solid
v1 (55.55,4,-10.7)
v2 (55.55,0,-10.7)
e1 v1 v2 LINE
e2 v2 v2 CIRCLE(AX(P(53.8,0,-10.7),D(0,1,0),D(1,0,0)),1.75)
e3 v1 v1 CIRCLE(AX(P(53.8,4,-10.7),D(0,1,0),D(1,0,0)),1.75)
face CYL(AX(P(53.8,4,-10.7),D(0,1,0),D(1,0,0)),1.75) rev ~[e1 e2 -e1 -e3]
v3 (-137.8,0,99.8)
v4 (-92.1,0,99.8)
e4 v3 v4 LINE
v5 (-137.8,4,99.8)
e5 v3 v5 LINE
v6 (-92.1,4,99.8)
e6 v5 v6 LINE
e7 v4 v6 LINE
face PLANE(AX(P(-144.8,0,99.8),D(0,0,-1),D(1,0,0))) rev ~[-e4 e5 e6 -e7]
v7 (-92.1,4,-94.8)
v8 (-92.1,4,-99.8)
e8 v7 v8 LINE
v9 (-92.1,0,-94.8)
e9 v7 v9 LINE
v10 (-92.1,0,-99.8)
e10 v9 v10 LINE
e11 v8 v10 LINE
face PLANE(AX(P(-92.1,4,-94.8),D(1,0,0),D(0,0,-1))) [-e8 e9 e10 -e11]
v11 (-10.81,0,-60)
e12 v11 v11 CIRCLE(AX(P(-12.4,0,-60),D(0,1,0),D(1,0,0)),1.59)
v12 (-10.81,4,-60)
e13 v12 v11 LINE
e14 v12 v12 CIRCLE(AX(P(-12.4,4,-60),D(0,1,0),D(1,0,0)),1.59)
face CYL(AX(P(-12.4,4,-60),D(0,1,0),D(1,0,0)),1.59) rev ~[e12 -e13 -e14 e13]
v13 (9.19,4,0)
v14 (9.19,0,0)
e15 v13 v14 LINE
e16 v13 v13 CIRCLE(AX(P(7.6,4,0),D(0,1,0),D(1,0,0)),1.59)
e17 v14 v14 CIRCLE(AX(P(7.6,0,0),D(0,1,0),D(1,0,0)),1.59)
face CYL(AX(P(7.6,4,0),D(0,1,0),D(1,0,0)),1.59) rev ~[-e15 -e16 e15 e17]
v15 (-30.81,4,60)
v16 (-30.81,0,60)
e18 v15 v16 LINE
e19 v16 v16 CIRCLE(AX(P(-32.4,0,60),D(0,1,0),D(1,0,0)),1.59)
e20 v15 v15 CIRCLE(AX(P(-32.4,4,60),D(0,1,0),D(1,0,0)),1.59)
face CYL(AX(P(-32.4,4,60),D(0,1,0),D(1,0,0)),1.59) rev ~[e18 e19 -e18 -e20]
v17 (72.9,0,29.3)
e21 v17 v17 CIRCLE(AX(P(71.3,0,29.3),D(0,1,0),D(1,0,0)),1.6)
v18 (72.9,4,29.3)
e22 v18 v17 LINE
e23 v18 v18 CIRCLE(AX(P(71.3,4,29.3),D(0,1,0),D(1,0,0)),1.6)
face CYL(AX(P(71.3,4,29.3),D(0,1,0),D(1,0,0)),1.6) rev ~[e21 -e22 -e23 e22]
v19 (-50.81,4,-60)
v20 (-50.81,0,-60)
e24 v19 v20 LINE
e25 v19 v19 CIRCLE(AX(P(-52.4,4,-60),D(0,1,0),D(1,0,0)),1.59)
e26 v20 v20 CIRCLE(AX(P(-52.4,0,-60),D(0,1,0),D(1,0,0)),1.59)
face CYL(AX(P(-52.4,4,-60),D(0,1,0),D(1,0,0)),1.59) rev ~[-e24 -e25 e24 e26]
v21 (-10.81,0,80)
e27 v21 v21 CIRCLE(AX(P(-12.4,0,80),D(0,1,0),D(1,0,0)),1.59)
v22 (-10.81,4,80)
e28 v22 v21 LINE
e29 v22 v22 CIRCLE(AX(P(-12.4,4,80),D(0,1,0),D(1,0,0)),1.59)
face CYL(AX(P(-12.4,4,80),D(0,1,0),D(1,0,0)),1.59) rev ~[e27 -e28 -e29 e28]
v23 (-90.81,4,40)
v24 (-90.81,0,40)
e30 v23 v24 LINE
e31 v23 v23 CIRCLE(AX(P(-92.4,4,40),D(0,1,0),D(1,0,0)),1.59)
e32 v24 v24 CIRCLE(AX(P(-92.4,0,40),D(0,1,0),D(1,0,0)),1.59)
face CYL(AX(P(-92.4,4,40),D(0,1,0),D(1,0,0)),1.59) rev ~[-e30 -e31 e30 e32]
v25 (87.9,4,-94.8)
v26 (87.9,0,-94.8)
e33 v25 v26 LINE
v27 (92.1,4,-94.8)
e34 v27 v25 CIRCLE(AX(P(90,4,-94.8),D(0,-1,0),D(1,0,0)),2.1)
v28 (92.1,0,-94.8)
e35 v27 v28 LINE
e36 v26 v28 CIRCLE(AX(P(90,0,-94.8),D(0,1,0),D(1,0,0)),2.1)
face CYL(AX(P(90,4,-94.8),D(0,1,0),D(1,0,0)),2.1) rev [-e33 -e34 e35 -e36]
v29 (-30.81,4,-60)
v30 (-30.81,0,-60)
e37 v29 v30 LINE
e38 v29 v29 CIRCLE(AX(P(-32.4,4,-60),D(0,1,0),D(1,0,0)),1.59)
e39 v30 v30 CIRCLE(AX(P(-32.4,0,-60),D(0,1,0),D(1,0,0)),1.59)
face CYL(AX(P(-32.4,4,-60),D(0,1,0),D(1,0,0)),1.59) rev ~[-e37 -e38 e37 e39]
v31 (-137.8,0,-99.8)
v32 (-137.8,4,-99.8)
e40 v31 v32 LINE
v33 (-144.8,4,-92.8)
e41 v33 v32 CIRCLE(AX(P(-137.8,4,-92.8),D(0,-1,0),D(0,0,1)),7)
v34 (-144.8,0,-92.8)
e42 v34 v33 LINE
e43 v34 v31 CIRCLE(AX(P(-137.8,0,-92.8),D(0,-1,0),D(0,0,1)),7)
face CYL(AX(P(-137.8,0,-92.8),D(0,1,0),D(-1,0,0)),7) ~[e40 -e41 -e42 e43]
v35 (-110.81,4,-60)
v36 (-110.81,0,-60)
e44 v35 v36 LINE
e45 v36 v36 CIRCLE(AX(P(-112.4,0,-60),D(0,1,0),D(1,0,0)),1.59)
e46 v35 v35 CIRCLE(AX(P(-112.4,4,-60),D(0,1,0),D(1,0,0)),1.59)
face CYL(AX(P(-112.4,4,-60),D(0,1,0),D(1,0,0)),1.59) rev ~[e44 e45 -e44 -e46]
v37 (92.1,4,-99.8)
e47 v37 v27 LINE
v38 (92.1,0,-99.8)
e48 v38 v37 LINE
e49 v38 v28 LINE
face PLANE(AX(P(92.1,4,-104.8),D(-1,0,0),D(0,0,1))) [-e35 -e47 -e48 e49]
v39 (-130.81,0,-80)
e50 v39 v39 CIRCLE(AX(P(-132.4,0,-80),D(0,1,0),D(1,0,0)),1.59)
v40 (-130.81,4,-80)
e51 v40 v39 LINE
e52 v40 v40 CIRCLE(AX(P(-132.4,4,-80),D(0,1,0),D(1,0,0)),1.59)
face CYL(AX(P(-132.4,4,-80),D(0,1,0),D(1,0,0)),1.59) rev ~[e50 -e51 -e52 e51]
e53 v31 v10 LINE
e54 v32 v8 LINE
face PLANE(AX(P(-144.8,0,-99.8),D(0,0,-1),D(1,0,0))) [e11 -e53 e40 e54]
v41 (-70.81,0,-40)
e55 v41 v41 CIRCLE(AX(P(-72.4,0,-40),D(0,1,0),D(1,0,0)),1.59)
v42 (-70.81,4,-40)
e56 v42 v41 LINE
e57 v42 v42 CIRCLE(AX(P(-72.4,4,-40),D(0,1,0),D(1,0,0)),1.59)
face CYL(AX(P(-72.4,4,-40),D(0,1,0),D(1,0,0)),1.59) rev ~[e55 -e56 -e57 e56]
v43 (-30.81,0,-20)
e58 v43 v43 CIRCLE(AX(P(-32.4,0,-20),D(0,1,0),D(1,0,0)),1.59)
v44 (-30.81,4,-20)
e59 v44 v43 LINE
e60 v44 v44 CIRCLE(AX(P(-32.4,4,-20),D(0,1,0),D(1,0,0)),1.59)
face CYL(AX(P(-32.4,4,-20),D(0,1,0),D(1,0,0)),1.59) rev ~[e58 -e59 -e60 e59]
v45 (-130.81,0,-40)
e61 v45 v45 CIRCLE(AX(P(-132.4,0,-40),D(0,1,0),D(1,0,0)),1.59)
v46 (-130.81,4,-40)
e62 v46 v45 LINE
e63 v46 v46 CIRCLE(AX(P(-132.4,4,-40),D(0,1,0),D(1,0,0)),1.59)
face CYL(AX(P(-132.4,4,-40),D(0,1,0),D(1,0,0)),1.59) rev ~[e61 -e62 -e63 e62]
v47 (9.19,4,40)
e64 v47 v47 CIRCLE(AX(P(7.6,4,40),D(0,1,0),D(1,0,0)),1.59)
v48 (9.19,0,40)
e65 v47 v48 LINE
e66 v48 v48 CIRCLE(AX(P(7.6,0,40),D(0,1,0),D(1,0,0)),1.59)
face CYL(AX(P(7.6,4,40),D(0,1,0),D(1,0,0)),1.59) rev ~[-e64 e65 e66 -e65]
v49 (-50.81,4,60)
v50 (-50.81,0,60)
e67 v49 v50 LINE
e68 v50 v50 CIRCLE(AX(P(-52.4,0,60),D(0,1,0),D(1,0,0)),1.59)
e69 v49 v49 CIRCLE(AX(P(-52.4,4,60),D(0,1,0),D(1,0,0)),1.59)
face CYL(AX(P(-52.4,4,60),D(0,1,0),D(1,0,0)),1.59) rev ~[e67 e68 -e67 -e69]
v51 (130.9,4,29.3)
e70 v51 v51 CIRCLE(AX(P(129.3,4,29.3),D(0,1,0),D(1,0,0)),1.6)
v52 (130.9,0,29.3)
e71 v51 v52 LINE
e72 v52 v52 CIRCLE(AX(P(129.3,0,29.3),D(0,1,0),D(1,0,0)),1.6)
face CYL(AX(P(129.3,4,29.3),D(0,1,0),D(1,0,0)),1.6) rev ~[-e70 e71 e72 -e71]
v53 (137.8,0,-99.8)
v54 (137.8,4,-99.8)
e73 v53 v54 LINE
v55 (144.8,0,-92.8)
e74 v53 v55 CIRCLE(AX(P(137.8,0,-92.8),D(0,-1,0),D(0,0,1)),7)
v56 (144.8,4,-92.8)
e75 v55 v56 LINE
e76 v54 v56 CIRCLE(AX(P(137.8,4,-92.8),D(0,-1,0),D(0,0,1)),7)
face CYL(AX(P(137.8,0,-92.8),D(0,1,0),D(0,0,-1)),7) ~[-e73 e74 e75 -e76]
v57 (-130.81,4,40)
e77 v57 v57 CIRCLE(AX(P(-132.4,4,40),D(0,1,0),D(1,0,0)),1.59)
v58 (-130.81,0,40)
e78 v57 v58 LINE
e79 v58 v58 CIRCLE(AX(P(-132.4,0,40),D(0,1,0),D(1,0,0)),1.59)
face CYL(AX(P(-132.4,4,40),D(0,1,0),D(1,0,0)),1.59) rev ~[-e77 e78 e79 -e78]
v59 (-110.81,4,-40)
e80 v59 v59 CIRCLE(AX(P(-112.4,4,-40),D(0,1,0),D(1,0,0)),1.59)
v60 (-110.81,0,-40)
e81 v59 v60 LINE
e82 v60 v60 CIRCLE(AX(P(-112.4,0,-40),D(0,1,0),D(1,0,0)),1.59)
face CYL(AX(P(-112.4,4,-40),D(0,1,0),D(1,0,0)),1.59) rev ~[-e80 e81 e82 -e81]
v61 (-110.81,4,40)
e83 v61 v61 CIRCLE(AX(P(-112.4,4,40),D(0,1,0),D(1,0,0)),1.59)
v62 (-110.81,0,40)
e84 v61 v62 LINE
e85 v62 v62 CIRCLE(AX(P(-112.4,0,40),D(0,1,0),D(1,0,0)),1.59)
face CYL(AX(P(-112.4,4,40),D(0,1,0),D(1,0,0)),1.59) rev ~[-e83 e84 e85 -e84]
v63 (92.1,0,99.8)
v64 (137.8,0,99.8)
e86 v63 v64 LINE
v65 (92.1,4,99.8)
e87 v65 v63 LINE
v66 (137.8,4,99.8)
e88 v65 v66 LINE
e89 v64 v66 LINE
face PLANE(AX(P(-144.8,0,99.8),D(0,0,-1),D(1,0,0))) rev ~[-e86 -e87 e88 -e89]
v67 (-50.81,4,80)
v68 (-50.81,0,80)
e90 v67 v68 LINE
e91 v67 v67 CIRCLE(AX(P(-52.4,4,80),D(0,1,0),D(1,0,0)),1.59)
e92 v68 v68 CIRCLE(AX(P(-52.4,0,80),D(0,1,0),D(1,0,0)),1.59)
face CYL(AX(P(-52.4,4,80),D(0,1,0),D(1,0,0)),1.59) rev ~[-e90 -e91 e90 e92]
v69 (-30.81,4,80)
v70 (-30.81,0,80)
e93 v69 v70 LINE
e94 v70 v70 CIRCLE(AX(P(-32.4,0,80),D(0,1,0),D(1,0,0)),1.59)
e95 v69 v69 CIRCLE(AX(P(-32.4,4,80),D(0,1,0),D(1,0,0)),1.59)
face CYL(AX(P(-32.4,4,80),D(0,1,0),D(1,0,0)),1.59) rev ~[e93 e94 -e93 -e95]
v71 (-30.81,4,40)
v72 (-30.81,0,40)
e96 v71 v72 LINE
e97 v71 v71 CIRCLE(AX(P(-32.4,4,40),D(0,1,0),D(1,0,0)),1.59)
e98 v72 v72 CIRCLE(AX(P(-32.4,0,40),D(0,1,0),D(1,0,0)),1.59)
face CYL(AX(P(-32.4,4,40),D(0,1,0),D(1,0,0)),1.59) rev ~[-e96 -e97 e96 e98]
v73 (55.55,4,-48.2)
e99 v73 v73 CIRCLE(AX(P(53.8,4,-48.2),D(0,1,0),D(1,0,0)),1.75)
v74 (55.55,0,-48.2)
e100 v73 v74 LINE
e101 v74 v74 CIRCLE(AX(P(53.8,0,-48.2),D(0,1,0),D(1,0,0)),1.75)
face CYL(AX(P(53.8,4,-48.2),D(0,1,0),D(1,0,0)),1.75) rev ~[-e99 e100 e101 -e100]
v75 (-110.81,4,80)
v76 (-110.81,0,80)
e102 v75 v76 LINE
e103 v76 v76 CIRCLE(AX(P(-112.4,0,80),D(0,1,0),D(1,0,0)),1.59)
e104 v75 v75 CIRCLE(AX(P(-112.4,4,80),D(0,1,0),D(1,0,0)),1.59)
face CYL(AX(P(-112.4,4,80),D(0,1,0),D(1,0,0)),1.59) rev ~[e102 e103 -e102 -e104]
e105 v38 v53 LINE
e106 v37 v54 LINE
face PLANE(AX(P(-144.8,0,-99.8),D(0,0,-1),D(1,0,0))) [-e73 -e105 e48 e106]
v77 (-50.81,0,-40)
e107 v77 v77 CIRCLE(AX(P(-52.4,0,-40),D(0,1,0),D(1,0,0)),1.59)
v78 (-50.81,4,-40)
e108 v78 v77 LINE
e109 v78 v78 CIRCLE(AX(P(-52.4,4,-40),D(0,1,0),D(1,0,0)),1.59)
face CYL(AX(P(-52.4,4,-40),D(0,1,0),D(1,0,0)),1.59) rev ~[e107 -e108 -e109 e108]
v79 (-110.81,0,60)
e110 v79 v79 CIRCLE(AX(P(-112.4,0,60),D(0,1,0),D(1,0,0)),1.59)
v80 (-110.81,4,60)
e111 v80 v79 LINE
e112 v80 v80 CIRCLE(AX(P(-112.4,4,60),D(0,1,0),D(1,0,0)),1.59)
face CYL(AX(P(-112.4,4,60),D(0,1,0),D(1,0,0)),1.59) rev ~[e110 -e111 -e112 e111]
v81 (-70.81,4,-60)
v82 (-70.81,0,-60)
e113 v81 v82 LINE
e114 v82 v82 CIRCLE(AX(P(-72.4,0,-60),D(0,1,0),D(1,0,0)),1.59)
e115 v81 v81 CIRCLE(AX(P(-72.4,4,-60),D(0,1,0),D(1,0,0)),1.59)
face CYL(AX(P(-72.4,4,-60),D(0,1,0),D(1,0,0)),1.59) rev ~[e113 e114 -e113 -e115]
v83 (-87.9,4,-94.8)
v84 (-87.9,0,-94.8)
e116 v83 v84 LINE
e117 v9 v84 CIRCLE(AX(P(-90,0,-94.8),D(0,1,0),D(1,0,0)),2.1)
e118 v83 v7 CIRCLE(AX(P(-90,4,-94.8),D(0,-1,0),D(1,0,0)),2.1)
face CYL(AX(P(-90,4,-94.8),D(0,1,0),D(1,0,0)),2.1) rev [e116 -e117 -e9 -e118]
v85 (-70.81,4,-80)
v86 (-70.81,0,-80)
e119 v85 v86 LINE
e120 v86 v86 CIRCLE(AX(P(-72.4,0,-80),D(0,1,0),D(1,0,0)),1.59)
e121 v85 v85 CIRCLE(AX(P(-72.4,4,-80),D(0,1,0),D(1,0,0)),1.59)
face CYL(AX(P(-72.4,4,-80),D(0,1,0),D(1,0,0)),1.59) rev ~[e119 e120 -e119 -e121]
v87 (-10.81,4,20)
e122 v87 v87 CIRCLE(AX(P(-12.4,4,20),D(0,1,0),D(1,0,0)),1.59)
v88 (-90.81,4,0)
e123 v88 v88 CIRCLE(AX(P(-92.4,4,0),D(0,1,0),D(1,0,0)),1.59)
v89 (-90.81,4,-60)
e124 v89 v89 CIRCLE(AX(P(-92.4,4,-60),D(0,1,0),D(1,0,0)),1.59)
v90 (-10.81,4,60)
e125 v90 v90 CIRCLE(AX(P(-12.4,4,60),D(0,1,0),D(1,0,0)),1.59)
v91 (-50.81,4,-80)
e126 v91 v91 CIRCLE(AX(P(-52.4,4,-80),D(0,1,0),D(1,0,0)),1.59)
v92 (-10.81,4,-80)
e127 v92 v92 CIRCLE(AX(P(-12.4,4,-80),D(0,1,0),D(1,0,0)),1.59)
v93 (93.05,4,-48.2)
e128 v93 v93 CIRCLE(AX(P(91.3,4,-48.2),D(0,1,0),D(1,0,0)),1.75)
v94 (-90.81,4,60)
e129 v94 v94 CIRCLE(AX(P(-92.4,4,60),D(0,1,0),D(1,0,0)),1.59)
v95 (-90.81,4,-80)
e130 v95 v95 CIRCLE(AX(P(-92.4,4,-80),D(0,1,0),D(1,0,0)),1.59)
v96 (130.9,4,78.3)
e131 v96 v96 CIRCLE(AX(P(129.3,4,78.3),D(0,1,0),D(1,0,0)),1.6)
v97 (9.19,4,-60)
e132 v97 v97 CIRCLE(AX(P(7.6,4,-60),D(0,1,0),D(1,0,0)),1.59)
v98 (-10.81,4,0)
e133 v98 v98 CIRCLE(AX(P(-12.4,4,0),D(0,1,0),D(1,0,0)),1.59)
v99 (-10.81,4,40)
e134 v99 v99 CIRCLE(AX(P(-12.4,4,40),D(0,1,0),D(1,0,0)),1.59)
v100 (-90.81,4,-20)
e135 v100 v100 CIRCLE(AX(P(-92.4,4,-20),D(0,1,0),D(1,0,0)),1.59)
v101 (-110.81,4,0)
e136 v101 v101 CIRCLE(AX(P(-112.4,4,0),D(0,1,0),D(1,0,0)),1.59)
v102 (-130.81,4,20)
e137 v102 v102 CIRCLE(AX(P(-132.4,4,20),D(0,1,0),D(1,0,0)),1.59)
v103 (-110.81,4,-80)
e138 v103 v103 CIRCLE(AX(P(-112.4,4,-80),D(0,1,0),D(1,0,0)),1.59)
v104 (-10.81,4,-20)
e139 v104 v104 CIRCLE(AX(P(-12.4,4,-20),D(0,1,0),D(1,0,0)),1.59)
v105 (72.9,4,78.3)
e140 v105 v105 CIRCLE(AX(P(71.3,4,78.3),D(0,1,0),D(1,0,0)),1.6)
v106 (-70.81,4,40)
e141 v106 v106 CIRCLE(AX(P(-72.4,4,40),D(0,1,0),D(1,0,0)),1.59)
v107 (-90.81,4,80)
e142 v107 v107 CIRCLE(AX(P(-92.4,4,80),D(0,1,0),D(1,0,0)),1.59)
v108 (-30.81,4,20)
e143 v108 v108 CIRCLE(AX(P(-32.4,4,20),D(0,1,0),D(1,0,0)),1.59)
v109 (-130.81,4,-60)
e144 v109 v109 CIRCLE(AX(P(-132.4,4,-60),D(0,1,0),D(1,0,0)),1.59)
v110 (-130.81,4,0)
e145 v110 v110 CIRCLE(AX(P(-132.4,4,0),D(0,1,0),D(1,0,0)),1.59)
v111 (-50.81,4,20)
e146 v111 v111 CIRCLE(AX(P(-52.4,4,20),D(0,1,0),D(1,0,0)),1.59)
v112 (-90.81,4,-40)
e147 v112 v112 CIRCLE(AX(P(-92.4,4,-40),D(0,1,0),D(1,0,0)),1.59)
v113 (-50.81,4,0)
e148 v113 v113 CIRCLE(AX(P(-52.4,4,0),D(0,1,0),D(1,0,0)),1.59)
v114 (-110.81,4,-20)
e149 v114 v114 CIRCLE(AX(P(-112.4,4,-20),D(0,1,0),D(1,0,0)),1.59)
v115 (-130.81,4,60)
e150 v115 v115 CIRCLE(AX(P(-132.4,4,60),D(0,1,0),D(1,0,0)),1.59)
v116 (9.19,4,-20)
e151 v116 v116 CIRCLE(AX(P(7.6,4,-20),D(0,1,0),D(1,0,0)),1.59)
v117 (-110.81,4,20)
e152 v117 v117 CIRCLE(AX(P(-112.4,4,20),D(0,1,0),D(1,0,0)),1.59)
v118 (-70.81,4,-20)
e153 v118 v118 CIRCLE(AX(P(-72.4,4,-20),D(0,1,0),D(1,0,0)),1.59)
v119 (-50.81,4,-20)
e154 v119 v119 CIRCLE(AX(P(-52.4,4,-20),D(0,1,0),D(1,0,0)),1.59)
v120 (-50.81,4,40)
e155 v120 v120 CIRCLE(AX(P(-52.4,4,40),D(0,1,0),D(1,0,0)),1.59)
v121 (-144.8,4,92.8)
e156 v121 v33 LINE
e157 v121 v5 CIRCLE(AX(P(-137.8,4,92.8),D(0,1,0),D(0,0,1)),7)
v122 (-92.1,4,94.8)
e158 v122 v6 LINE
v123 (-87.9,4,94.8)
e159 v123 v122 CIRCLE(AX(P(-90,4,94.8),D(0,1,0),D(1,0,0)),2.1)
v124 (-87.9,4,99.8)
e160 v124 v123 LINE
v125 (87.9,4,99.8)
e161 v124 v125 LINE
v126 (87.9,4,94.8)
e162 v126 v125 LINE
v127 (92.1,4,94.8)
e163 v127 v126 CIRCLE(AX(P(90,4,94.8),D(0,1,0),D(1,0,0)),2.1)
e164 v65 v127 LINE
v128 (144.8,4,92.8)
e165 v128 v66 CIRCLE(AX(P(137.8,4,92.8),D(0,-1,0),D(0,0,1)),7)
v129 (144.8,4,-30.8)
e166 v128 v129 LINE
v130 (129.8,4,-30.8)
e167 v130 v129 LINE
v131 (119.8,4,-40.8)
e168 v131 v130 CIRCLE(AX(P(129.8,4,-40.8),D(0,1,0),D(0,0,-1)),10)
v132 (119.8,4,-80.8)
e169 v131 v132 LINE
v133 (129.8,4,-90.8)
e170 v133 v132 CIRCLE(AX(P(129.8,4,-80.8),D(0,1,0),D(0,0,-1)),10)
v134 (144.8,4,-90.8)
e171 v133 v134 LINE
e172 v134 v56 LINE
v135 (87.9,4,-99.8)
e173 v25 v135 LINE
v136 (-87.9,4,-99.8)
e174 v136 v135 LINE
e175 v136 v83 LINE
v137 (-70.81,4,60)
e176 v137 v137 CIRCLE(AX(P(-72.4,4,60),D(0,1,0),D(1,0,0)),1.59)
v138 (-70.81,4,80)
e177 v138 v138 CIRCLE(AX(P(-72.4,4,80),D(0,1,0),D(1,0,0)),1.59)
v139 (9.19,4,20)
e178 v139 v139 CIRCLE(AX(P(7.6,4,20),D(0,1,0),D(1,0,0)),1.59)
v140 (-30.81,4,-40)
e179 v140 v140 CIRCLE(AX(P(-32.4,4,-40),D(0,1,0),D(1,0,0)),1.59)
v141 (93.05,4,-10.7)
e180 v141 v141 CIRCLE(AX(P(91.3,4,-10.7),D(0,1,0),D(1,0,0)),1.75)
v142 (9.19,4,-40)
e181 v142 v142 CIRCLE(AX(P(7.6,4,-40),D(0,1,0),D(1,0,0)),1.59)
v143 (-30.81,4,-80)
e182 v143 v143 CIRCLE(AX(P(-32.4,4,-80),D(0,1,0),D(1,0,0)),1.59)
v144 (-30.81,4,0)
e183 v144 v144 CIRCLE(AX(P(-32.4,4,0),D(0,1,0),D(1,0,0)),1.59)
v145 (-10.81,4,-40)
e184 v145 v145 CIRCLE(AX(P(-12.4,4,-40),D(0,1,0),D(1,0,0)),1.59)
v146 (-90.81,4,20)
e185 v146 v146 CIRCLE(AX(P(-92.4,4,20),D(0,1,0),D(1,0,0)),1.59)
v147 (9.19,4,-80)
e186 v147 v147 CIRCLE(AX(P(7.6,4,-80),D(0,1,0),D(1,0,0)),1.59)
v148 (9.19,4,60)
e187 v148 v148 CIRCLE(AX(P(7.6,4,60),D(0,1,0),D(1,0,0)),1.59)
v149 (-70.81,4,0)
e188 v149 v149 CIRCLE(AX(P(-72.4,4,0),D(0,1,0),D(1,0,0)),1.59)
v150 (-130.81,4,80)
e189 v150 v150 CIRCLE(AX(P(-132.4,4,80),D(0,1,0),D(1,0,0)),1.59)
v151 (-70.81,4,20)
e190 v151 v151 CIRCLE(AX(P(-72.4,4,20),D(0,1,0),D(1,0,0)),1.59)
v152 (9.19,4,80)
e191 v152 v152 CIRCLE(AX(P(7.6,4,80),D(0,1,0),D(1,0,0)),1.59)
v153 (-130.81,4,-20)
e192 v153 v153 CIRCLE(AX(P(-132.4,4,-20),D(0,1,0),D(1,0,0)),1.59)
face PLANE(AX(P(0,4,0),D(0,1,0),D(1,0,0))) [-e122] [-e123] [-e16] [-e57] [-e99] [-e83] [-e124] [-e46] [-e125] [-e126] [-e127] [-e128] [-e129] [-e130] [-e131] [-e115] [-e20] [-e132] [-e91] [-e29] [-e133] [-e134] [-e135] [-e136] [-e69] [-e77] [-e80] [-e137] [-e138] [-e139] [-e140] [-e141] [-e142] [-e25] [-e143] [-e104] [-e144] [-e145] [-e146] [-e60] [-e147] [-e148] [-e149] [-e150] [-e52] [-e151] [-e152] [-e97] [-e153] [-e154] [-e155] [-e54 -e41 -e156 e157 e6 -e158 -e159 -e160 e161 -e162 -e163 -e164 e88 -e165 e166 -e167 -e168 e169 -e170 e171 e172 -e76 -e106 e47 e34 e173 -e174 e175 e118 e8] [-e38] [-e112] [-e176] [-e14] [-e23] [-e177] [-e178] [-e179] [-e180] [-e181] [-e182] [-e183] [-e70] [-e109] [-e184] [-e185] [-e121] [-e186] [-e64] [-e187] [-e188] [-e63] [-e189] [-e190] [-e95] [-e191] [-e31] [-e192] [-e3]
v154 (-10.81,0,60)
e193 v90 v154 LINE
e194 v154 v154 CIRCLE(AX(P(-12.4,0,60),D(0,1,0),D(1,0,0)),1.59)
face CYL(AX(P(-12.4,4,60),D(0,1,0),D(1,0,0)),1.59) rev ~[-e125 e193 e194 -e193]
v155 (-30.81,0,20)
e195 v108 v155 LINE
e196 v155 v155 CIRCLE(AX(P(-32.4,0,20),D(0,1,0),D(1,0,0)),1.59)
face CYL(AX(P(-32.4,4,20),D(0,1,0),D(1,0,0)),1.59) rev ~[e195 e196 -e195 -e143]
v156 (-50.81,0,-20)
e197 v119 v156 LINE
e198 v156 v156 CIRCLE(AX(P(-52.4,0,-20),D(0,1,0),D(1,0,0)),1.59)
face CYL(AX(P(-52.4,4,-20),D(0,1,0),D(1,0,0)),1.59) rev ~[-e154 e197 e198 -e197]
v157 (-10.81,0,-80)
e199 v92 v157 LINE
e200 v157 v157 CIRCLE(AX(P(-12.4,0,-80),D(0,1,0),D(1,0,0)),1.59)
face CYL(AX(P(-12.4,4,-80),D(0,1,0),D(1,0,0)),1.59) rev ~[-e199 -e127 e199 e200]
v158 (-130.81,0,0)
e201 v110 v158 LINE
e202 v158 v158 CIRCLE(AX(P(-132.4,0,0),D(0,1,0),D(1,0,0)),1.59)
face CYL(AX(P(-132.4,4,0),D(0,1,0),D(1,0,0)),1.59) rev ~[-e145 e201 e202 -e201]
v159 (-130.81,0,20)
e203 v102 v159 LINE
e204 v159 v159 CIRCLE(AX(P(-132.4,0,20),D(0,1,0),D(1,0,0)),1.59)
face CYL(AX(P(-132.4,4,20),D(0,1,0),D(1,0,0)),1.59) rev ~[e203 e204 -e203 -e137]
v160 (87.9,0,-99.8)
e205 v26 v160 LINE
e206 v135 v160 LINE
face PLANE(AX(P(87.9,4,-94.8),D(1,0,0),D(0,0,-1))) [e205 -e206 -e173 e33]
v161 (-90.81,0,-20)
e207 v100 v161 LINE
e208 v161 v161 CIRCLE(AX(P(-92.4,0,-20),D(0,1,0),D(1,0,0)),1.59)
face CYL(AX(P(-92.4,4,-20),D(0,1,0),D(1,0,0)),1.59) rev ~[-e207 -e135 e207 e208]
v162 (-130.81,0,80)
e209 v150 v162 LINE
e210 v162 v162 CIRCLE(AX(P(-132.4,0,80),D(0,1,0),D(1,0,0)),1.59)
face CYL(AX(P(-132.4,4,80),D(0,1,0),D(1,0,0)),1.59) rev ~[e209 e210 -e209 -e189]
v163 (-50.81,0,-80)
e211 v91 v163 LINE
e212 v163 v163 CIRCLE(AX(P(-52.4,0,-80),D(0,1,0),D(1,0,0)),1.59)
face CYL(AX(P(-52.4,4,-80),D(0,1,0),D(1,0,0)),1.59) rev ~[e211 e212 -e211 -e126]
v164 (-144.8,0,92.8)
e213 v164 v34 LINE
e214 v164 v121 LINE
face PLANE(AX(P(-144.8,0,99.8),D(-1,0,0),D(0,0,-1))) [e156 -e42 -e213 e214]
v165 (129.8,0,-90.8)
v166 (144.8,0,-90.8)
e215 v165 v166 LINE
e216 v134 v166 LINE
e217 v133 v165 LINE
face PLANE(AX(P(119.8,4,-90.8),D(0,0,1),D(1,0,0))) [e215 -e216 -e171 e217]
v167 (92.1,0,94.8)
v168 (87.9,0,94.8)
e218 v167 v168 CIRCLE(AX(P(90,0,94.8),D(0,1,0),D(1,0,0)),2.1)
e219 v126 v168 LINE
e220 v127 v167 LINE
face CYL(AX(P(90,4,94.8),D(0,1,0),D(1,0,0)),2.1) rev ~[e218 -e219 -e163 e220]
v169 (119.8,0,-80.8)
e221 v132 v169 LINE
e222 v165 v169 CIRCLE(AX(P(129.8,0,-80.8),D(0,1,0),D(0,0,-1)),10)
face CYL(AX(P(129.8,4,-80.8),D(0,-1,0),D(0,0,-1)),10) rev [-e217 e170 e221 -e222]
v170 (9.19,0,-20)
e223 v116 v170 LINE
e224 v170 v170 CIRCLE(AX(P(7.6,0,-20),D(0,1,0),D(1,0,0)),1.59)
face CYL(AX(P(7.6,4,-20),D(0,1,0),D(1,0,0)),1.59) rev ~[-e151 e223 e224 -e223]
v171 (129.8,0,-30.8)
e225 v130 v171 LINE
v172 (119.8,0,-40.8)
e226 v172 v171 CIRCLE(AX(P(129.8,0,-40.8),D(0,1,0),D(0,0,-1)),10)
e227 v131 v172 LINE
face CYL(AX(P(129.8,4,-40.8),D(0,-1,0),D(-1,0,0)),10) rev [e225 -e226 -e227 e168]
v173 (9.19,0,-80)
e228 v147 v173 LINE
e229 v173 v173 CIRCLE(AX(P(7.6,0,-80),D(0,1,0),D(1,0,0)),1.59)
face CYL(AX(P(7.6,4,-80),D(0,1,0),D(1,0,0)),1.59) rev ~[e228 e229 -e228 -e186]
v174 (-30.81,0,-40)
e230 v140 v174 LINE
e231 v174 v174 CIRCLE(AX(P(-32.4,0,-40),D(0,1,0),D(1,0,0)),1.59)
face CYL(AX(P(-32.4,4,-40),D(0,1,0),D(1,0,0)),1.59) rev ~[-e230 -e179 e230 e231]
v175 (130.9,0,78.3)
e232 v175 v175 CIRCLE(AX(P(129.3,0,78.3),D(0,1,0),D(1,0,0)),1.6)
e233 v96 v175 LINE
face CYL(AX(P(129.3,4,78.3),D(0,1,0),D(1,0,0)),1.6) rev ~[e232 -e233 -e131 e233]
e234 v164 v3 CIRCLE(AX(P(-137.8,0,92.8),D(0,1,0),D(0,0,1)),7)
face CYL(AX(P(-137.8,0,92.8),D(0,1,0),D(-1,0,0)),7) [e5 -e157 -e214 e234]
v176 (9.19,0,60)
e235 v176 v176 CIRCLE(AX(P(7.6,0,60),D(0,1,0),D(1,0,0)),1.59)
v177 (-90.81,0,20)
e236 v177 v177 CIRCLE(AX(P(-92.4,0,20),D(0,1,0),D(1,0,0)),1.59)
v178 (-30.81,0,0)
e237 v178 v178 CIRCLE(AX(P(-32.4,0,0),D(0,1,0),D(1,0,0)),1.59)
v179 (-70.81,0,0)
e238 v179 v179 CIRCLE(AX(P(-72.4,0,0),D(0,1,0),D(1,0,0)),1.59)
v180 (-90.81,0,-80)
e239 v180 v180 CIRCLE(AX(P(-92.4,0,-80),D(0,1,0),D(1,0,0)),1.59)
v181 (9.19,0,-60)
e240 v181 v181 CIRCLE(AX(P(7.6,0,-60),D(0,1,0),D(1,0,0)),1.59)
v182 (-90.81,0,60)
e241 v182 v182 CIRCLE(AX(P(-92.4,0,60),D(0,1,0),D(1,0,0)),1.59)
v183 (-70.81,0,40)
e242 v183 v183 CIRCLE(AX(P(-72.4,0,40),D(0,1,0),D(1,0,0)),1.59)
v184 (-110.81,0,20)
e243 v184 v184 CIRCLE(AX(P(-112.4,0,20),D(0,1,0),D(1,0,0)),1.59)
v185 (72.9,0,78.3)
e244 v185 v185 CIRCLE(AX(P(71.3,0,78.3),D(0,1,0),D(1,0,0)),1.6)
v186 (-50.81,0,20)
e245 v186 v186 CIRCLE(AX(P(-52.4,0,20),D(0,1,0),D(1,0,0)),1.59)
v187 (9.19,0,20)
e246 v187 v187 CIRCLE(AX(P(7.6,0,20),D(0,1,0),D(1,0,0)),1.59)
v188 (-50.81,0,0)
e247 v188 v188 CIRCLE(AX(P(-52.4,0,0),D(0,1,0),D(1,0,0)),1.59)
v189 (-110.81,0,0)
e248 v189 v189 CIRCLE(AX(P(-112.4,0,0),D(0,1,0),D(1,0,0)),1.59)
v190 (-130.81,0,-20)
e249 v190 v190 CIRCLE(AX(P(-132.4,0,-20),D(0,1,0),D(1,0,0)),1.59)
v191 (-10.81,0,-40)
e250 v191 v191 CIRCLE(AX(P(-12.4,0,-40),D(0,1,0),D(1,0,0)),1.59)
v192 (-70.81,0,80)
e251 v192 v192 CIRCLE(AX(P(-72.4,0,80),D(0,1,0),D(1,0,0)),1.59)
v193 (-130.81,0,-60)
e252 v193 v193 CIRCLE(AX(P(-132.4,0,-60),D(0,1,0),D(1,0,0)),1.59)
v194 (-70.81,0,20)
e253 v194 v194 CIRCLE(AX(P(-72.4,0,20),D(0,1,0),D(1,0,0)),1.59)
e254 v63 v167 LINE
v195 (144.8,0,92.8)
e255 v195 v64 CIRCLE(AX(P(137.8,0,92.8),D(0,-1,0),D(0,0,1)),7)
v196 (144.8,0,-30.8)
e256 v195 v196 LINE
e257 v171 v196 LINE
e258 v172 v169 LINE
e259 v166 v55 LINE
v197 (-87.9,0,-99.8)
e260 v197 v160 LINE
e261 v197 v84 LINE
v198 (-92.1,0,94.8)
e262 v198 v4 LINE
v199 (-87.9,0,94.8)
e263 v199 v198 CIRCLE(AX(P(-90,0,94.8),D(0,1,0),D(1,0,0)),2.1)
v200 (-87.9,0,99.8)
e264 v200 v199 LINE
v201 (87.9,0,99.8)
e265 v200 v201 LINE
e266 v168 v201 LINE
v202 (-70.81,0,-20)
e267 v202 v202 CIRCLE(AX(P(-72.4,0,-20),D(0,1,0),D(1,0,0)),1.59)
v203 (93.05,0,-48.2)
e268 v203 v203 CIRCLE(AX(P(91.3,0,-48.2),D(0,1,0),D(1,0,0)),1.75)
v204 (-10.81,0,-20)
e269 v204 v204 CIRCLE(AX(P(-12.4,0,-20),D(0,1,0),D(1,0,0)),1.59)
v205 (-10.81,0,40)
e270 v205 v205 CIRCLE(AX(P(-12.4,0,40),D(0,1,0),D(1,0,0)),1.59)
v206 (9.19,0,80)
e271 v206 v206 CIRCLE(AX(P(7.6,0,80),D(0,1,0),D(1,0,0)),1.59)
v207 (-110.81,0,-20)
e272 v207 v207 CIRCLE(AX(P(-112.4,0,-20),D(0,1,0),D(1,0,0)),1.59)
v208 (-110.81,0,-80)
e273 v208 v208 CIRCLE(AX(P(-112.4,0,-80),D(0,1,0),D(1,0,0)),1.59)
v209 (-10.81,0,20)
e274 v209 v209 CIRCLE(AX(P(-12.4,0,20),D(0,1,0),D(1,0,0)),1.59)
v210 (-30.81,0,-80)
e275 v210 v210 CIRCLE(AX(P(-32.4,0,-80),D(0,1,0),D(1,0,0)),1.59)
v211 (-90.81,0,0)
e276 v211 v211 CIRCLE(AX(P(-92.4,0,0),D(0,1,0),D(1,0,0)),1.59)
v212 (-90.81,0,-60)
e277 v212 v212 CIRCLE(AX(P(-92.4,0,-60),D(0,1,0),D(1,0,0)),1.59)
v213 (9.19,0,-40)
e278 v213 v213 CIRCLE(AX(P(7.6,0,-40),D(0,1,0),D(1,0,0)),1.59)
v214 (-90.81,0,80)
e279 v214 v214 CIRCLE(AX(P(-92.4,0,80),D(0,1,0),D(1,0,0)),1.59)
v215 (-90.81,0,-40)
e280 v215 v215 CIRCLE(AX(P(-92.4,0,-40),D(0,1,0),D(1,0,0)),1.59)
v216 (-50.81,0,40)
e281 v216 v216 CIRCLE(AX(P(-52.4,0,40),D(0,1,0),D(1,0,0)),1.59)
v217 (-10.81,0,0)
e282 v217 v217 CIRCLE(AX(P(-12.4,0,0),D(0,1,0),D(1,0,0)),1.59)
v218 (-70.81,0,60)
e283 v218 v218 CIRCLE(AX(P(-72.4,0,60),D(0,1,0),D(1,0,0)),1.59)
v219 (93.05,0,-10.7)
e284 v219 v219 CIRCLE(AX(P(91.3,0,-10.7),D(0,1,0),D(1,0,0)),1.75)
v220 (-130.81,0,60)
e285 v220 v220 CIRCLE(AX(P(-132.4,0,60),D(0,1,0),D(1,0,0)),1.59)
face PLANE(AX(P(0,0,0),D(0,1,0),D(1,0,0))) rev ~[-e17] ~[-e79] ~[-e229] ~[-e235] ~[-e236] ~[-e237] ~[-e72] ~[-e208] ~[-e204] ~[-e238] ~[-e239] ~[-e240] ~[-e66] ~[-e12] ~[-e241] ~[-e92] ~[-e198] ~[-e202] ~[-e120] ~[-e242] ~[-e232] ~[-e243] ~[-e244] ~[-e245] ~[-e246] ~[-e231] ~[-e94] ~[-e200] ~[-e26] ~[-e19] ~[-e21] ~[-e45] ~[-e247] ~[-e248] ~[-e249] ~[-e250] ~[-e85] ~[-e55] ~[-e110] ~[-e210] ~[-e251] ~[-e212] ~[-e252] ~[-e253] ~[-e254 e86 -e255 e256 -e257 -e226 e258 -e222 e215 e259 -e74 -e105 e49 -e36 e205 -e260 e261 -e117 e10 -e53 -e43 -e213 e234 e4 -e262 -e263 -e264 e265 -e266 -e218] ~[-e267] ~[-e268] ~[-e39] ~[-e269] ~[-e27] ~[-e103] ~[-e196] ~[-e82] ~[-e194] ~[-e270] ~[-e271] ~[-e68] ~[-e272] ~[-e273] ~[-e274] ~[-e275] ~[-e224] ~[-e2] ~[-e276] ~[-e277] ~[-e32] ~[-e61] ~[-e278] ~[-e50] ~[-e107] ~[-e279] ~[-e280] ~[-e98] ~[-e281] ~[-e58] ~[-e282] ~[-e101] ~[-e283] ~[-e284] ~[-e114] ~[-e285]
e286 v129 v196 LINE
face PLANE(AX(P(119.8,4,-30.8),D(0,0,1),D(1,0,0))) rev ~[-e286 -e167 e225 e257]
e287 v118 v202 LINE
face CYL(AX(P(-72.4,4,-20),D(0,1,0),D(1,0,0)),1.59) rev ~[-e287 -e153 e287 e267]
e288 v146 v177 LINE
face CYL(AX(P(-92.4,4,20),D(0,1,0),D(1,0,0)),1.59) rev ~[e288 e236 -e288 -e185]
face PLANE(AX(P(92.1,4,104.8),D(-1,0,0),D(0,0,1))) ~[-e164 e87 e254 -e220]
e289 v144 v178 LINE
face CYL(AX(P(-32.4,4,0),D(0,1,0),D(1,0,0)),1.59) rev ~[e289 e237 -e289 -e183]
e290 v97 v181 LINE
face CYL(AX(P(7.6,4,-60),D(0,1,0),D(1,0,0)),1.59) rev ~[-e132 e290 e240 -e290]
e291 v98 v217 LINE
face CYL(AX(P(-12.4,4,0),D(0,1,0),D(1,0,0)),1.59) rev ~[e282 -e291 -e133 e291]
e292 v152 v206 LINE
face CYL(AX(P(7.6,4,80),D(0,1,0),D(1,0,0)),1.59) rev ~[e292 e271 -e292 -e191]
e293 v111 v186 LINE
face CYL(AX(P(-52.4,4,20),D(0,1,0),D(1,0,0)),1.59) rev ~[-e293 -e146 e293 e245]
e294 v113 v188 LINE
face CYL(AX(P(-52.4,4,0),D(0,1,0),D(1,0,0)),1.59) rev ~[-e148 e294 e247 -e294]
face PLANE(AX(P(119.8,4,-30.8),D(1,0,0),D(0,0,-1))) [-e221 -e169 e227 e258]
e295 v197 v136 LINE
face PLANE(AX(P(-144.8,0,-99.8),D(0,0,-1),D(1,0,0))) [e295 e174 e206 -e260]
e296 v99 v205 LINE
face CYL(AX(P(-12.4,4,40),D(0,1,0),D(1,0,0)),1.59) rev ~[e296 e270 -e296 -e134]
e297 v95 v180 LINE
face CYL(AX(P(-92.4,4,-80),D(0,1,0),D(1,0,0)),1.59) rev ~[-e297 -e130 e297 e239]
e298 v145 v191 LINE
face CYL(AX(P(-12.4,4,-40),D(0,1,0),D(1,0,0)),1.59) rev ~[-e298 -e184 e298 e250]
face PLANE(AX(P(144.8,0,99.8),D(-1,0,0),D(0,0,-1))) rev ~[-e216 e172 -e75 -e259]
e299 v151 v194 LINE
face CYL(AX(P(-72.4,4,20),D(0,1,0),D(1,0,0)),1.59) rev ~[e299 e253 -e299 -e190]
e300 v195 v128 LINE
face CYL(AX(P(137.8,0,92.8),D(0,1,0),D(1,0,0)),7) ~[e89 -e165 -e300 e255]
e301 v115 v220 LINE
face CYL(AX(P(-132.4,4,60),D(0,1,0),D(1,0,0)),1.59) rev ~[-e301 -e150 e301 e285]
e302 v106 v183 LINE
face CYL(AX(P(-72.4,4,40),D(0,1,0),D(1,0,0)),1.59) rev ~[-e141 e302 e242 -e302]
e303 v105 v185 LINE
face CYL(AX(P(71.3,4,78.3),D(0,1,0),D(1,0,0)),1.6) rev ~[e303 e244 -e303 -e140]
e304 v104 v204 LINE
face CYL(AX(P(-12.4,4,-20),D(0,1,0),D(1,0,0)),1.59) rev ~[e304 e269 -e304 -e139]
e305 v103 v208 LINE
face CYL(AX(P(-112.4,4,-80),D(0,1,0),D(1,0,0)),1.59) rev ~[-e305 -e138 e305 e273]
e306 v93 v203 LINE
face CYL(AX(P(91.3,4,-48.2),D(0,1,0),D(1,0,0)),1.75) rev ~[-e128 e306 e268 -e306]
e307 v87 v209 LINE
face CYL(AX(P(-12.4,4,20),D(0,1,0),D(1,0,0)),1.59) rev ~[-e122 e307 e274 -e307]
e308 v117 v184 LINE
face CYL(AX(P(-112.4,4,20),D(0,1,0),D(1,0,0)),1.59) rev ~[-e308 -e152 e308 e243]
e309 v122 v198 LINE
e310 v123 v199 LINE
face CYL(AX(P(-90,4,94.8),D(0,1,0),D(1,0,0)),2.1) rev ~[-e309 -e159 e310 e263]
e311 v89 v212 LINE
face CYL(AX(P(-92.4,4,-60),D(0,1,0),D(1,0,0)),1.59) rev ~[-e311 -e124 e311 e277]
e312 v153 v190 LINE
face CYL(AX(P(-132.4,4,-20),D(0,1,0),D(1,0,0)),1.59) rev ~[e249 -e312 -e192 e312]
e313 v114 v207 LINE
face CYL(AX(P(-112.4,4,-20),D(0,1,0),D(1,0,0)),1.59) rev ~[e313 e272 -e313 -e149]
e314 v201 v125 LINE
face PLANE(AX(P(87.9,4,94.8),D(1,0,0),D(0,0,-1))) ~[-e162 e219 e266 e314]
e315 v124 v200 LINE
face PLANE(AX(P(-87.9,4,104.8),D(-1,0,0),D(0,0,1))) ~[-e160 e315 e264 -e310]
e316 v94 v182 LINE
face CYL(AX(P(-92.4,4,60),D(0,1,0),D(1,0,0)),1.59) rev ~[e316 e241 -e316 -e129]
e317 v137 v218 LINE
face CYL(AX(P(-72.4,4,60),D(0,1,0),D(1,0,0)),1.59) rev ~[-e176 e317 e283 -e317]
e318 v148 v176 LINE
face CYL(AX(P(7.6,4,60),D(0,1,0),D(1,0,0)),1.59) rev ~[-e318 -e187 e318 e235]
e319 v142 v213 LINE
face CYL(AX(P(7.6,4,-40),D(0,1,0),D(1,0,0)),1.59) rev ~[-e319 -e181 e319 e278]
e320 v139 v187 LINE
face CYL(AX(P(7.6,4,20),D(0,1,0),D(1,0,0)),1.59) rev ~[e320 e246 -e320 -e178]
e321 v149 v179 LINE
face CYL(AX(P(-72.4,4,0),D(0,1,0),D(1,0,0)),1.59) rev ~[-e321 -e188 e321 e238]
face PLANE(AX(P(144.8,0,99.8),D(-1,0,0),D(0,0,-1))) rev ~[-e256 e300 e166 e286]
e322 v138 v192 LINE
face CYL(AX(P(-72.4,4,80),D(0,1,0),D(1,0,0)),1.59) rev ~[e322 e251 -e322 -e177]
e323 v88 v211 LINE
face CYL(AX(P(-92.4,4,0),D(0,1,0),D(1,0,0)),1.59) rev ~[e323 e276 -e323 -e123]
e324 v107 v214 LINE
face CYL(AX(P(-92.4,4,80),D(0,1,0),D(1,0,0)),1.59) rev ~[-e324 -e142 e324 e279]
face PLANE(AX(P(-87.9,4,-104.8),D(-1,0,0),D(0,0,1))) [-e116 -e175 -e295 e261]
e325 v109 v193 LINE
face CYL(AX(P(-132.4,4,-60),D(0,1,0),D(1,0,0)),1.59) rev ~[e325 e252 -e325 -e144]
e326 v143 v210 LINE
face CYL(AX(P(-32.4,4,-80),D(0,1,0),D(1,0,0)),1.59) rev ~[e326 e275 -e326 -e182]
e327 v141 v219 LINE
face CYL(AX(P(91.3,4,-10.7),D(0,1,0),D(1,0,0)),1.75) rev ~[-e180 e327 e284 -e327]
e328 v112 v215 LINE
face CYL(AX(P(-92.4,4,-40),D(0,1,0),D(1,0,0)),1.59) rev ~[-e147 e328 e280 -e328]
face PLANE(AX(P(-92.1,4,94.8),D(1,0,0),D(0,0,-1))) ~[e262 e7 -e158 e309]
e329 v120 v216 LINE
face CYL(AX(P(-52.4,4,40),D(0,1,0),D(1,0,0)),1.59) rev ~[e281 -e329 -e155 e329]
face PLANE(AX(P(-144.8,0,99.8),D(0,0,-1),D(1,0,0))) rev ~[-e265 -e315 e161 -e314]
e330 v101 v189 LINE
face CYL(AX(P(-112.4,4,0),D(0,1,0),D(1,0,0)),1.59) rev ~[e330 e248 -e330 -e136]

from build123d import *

# Parameters (mm, degrees)
SKETCH1_W           = 289.6
SKETCH1_H           = 199.6
BOSS_EXTRUDE1_DEPTH = 4
CUT_EXTRUDE1_DEPTH  = 5
FILLET1_R           = 7
SKETCH3_W           = 25
SKETCH3_H           = 60
CUT_EXTRUDE2_DEPTH  = 5
FILLET2_R           = 10
SKETCH4_R           = 1.6
CUT_EXTRUDE3_DEPTH  = 5
SKETCH5_R           = 1.75
CUT_EXTRUDE4_DEPTH  = 5
SKETCH6_R           = 1.59
CUT_EXTRUDE5_DEPTH  = 5


with BuildPart() as part:
    # Sketch1 → Boss-Extrude1 (new body)
    with BuildSketch(Plane(origin=(0, 0, 0), x_dir=(1, 0, 0), z_dir=(0, 1, 0))):
        Rectangle(SKETCH1_W, SKETCH1_H)
    extrude(amount=BOSS_EXTRUDE1_DEPTH)

    # Sketch2 → Cut-Extrude1 (cut, through all)
    with BuildSketch(Plane(origin=(0, 4, 0), x_dir=(1, 0, 0), z_dir=(0, 1, 0))):
        with BuildLine():
            Line((-87.9, 104.8), (-87.9, 94.8))
            ThreePointArc((-87.9, 94.8), (-90, 92.7), (-92.1, 94.8))
            Line((-92.1, 94.8), (-92.1, 104.8))
            ThreePointArc((-92.1, 104.8), (-90, 106.9), (-87.9, 104.8))
        make_face()
        with BuildLine():
            Line((92.1, 104.8), (92.1, 94.8))
            ThreePointArc((92.1, 94.8), (90, 92.7), (87.9, 94.8))
            Line((87.9, 94.8), (87.9, 104.8))
            ThreePointArc((87.9, 104.8), (90, 106.9), (92.1, 104.8))
        make_face()
    cut_extrude1 = extrude(amount=-CUT_EXTRUDE1_DEPTH, mode=Mode.SUBTRACT)

    # Mirror1: Cut-Extrude1 across plane
    add(cut_extrude1.mirror(Plane.XY), mode=Mode.SUBTRACT)

    # Fillet1
    fillet1_edges = [part.edges().sort_by_distance(p)[0] for p in [
        (144.8, 2, 99.8),
        (-144.8, 2, 99.8),
        (-144.8, 2, -99.8),
        (144.8, 2, -99.8),
    ]]
    fillet(fillet1_edges, radius=FILLET1_R)

    # Sketch3 → Cut-Extrude2 (cut, through all)
    with BuildSketch(Plane(origin=(0, 4, 0), x_dir=(1, 0, 0), z_dir=(0, 1, 0))):
        with Locations((132.3, 60.8)):
            Rectangle(SKETCH3_W, SKETCH3_H)
    extrude(amount=-CUT_EXTRUDE2_DEPTH, mode=Mode.SUBTRACT)

    # Fillet2
    fillet2_edges = [part.edges().sort_by_distance(p)[0] for p in [
        (119.8, 2, -30.8),
        (119.8, 2, -90.8),
    ]]
    fillet(fillet2_edges, radius=FILLET2_R)

    # Sketch4 → Cut-Extrude3 (cut, through all)
    with BuildSketch(Plane(origin=(0, 4, 0), x_dir=(1, 0, 0), z_dir=(0, 1, 0))):
        with Locations((129.3, -78.3)):
            Circle(SKETCH4_R)
        with Locations((71.3, -78.3)):
            Circle(SKETCH4_R)
        with Locations((129.3, -29.3)):
            Circle(SKETCH4_R)
        with Locations((71.3, -29.3)):
            Circle(SKETCH4_R)
    extrude(amount=-CUT_EXTRUDE3_DEPTH, mode=Mode.SUBTRACT)

    # Sketch5 → Cut-Extrude4 (cut, through all)
    with BuildSketch(Plane(origin=(0, 4, 0), x_dir=(1, 0, 0), z_dir=(0, 1, 0))):
        with Locations((91.3, 10.7)):
            Circle(SKETCH5_R)
        with Locations((91.3, 48.2)):
            Circle(SKETCH5_R)
        with Locations((53.8, 48.2)):
            Circle(SKETCH5_R)
        with Locations((53.8, 10.7)):
            Circle(SKETCH5_R)
    extrude(amount=-CUT_EXTRUDE4_DEPTH, mode=Mode.SUBTRACT)

    # Sketch6 → Cut-Extrude5 (cut, through all)
    with BuildSketch(Plane(origin=(0, 4, 0), x_dir=(1, 0, 0), z_dir=(0, 1, 0))):
        with Locations((7.6, 80)):
            Circle(SKETCH6_R)
        with Locations((-12.4, 80)):
            Circle(SKETCH6_R)
        with Locations((-32.4, 80)):
            Circle(SKETCH6_R)
        with Locations((-52.4, 80)):
            Circle(SKETCH6_R)
        with Locations((-72.4, 80)):
            Circle(SKETCH6_R)
        with Locations((-92.4, 80)):
            Circle(SKETCH6_R)
        with Locations((-112.4, 80)):
            Circle(SKETCH6_R)
        with Locations((-12.4, 60)):
            Circle(SKETCH6_R)
        with Locations((-32.4, 60)):
            Circle(SKETCH6_R)
        with Locations((-52.4, 60)):
            Circle(SKETCH6_R)
        with Locations((-72.4, 60)):
            Circle(SKETCH6_R)
        with Locations((-92.4, 60)):
            Circle(SKETCH6_R)
        with Locations((-112.4, 60)):
            Circle(SKETCH6_R)
        with Locations((-12.4, 40)):
            Circle(SKETCH6_R)
        with Locations((-32.4, 40)):
            Circle(SKETCH6_R)
        with Locations((-52.4, 40)):
            Circle(SKETCH6_R)
        with Locations((-72.4, 40)):
            Circle(SKETCH6_R)
        with Locations((-92.4, 40)):
            Circle(SKETCH6_R)
        with Locations((-112.4, 40)):
            Circle(SKETCH6_R)
        with Locations((-12.4, 20)):
            Circle(SKETCH6_R)
        with Locations((-32.4, 20)):
            Circle(SKETCH6_R)
        with Locations((-52.4, 20)):
            Circle(SKETCH6_R)
        with Locations((-72.4, 20)):
            Circle(SKETCH6_R)
        with Locations((-92.4, 20)):
            Circle(SKETCH6_R)
        with Locations((-112.4, 20)):
            Circle(SKETCH6_R)
        with Locations((-12.4, 0)):
            Circle(SKETCH6_R)
        with Locations((-32.4, 0)):
            Circle(SKETCH6_R)
        with Locations((-52.4, 0)):
            Circle(SKETCH6_R)
        with Locations((-72.4, 0)):
            Circle(SKETCH6_R)
        with Locations((-92.4, 0)):
            Circle(SKETCH6_R)
        with Locations((-112.4, 0)):
            Circle(SKETCH6_R)
        with Locations((-12.4, -20)):
            Circle(SKETCH6_R)
        with Locations((-32.4, -20)):
            Circle(SKETCH6_R)
        with Locations((-52.4, -20)):
            Circle(SKETCH6_R)
        with Locations((-72.4, -20)):
            Circle(SKETCH6_R)
        with Locations((-92.4, -20)):
            Circle(SKETCH6_R)
        with Locations((-112.4, -20)):
            Circle(SKETCH6_R)
        with Locations((-12.4, -40)):
            Circle(SKETCH6_R)
        with Locations((-32.4, -40)):
            Circle(SKETCH6_R)
        with Locations((-52.4, -40)):
            Circle(SKETCH6_R)
        with Locations((-72.4, -40)):
            Circle(SKETCH6_R)
        with Locations((-92.4, -40)):
            Circle(SKETCH6_R)
        with Locations((-112.4, -40)):
            Circle(SKETCH6_R)
        with Locations((-12.4, -60)):
            Circle(SKETCH6_R)
        with Locations((-32.4, -60)):
            Circle(SKETCH6_R)
        with Locations((-52.4, -60)):
            Circle(SKETCH6_R)
        with Locations((-72.4, -60)):
            Circle(SKETCH6_R)
        with Locations((-92.4, -60)):
            Circle(SKETCH6_R)
        with Locations((-112.4, -60)):
            Circle(SKETCH6_R)
        with Locations((-12.4, -80)):
            Circle(SKETCH6_R)
        with Locations((-32.4, -80)):
            Circle(SKETCH6_R)
        with Locations((-52.4, -80)):
            Circle(SKETCH6_R)
        with Locations((-72.4, -80)):
            Circle(SKETCH6_R)
        with Locations((-92.4, -80)):
            Circle(SKETCH6_R)
        with Locations((-112.4, -80)):
            Circle(SKETCH6_R)
        with Locations((7.6, 60)):
            Circle(SKETCH6_R)
        with Locations((7.6, 40)):
            Circle(SKETCH6_R)
        with Locations((7.6, 20)):
            Circle(SKETCH6_R)
        with Locations((7.6, 0)):
            Circle(SKETCH6_R)
        with Locations((7.6, -20)):
            Circle(SKETCH6_R)
        with Locations((7.6, -40)):
            Circle(SKETCH6_R)
        with Locations((7.6, -60)):
            Circle(SKETCH6_R)
        with Locations((7.6, -80)):
            Circle(SKETCH6_R)
        with Locations((-132.4, 80)):
            Circle(SKETCH6_R)
        with Locations((-132.4, 60)):
            Circle(SKETCH6_R)
        with Locations((-132.4, 40)):
            Circle(SKETCH6_R)
        with Locations((-132.4, 20)):
            Circle(SKETCH6_R)
        with Locations((-132.4, 0)):
            Circle(SKETCH6_R)
        with Locations((-132.4, -20)):
            Circle(SKETCH6_R)
        with Locations((-132.4, -40)):
            Circle(SKETCH6_R)
        with Locations((-132.4, -60)):
            Circle(SKETCH6_R)
        with Locations((-132.4, -80)):
            Circle(SKETCH6_R)
    extrude(amount=-CUT_EXTRUDE5_DEPTH, mode=Mode.SUBTRACT)


solid = part.part
